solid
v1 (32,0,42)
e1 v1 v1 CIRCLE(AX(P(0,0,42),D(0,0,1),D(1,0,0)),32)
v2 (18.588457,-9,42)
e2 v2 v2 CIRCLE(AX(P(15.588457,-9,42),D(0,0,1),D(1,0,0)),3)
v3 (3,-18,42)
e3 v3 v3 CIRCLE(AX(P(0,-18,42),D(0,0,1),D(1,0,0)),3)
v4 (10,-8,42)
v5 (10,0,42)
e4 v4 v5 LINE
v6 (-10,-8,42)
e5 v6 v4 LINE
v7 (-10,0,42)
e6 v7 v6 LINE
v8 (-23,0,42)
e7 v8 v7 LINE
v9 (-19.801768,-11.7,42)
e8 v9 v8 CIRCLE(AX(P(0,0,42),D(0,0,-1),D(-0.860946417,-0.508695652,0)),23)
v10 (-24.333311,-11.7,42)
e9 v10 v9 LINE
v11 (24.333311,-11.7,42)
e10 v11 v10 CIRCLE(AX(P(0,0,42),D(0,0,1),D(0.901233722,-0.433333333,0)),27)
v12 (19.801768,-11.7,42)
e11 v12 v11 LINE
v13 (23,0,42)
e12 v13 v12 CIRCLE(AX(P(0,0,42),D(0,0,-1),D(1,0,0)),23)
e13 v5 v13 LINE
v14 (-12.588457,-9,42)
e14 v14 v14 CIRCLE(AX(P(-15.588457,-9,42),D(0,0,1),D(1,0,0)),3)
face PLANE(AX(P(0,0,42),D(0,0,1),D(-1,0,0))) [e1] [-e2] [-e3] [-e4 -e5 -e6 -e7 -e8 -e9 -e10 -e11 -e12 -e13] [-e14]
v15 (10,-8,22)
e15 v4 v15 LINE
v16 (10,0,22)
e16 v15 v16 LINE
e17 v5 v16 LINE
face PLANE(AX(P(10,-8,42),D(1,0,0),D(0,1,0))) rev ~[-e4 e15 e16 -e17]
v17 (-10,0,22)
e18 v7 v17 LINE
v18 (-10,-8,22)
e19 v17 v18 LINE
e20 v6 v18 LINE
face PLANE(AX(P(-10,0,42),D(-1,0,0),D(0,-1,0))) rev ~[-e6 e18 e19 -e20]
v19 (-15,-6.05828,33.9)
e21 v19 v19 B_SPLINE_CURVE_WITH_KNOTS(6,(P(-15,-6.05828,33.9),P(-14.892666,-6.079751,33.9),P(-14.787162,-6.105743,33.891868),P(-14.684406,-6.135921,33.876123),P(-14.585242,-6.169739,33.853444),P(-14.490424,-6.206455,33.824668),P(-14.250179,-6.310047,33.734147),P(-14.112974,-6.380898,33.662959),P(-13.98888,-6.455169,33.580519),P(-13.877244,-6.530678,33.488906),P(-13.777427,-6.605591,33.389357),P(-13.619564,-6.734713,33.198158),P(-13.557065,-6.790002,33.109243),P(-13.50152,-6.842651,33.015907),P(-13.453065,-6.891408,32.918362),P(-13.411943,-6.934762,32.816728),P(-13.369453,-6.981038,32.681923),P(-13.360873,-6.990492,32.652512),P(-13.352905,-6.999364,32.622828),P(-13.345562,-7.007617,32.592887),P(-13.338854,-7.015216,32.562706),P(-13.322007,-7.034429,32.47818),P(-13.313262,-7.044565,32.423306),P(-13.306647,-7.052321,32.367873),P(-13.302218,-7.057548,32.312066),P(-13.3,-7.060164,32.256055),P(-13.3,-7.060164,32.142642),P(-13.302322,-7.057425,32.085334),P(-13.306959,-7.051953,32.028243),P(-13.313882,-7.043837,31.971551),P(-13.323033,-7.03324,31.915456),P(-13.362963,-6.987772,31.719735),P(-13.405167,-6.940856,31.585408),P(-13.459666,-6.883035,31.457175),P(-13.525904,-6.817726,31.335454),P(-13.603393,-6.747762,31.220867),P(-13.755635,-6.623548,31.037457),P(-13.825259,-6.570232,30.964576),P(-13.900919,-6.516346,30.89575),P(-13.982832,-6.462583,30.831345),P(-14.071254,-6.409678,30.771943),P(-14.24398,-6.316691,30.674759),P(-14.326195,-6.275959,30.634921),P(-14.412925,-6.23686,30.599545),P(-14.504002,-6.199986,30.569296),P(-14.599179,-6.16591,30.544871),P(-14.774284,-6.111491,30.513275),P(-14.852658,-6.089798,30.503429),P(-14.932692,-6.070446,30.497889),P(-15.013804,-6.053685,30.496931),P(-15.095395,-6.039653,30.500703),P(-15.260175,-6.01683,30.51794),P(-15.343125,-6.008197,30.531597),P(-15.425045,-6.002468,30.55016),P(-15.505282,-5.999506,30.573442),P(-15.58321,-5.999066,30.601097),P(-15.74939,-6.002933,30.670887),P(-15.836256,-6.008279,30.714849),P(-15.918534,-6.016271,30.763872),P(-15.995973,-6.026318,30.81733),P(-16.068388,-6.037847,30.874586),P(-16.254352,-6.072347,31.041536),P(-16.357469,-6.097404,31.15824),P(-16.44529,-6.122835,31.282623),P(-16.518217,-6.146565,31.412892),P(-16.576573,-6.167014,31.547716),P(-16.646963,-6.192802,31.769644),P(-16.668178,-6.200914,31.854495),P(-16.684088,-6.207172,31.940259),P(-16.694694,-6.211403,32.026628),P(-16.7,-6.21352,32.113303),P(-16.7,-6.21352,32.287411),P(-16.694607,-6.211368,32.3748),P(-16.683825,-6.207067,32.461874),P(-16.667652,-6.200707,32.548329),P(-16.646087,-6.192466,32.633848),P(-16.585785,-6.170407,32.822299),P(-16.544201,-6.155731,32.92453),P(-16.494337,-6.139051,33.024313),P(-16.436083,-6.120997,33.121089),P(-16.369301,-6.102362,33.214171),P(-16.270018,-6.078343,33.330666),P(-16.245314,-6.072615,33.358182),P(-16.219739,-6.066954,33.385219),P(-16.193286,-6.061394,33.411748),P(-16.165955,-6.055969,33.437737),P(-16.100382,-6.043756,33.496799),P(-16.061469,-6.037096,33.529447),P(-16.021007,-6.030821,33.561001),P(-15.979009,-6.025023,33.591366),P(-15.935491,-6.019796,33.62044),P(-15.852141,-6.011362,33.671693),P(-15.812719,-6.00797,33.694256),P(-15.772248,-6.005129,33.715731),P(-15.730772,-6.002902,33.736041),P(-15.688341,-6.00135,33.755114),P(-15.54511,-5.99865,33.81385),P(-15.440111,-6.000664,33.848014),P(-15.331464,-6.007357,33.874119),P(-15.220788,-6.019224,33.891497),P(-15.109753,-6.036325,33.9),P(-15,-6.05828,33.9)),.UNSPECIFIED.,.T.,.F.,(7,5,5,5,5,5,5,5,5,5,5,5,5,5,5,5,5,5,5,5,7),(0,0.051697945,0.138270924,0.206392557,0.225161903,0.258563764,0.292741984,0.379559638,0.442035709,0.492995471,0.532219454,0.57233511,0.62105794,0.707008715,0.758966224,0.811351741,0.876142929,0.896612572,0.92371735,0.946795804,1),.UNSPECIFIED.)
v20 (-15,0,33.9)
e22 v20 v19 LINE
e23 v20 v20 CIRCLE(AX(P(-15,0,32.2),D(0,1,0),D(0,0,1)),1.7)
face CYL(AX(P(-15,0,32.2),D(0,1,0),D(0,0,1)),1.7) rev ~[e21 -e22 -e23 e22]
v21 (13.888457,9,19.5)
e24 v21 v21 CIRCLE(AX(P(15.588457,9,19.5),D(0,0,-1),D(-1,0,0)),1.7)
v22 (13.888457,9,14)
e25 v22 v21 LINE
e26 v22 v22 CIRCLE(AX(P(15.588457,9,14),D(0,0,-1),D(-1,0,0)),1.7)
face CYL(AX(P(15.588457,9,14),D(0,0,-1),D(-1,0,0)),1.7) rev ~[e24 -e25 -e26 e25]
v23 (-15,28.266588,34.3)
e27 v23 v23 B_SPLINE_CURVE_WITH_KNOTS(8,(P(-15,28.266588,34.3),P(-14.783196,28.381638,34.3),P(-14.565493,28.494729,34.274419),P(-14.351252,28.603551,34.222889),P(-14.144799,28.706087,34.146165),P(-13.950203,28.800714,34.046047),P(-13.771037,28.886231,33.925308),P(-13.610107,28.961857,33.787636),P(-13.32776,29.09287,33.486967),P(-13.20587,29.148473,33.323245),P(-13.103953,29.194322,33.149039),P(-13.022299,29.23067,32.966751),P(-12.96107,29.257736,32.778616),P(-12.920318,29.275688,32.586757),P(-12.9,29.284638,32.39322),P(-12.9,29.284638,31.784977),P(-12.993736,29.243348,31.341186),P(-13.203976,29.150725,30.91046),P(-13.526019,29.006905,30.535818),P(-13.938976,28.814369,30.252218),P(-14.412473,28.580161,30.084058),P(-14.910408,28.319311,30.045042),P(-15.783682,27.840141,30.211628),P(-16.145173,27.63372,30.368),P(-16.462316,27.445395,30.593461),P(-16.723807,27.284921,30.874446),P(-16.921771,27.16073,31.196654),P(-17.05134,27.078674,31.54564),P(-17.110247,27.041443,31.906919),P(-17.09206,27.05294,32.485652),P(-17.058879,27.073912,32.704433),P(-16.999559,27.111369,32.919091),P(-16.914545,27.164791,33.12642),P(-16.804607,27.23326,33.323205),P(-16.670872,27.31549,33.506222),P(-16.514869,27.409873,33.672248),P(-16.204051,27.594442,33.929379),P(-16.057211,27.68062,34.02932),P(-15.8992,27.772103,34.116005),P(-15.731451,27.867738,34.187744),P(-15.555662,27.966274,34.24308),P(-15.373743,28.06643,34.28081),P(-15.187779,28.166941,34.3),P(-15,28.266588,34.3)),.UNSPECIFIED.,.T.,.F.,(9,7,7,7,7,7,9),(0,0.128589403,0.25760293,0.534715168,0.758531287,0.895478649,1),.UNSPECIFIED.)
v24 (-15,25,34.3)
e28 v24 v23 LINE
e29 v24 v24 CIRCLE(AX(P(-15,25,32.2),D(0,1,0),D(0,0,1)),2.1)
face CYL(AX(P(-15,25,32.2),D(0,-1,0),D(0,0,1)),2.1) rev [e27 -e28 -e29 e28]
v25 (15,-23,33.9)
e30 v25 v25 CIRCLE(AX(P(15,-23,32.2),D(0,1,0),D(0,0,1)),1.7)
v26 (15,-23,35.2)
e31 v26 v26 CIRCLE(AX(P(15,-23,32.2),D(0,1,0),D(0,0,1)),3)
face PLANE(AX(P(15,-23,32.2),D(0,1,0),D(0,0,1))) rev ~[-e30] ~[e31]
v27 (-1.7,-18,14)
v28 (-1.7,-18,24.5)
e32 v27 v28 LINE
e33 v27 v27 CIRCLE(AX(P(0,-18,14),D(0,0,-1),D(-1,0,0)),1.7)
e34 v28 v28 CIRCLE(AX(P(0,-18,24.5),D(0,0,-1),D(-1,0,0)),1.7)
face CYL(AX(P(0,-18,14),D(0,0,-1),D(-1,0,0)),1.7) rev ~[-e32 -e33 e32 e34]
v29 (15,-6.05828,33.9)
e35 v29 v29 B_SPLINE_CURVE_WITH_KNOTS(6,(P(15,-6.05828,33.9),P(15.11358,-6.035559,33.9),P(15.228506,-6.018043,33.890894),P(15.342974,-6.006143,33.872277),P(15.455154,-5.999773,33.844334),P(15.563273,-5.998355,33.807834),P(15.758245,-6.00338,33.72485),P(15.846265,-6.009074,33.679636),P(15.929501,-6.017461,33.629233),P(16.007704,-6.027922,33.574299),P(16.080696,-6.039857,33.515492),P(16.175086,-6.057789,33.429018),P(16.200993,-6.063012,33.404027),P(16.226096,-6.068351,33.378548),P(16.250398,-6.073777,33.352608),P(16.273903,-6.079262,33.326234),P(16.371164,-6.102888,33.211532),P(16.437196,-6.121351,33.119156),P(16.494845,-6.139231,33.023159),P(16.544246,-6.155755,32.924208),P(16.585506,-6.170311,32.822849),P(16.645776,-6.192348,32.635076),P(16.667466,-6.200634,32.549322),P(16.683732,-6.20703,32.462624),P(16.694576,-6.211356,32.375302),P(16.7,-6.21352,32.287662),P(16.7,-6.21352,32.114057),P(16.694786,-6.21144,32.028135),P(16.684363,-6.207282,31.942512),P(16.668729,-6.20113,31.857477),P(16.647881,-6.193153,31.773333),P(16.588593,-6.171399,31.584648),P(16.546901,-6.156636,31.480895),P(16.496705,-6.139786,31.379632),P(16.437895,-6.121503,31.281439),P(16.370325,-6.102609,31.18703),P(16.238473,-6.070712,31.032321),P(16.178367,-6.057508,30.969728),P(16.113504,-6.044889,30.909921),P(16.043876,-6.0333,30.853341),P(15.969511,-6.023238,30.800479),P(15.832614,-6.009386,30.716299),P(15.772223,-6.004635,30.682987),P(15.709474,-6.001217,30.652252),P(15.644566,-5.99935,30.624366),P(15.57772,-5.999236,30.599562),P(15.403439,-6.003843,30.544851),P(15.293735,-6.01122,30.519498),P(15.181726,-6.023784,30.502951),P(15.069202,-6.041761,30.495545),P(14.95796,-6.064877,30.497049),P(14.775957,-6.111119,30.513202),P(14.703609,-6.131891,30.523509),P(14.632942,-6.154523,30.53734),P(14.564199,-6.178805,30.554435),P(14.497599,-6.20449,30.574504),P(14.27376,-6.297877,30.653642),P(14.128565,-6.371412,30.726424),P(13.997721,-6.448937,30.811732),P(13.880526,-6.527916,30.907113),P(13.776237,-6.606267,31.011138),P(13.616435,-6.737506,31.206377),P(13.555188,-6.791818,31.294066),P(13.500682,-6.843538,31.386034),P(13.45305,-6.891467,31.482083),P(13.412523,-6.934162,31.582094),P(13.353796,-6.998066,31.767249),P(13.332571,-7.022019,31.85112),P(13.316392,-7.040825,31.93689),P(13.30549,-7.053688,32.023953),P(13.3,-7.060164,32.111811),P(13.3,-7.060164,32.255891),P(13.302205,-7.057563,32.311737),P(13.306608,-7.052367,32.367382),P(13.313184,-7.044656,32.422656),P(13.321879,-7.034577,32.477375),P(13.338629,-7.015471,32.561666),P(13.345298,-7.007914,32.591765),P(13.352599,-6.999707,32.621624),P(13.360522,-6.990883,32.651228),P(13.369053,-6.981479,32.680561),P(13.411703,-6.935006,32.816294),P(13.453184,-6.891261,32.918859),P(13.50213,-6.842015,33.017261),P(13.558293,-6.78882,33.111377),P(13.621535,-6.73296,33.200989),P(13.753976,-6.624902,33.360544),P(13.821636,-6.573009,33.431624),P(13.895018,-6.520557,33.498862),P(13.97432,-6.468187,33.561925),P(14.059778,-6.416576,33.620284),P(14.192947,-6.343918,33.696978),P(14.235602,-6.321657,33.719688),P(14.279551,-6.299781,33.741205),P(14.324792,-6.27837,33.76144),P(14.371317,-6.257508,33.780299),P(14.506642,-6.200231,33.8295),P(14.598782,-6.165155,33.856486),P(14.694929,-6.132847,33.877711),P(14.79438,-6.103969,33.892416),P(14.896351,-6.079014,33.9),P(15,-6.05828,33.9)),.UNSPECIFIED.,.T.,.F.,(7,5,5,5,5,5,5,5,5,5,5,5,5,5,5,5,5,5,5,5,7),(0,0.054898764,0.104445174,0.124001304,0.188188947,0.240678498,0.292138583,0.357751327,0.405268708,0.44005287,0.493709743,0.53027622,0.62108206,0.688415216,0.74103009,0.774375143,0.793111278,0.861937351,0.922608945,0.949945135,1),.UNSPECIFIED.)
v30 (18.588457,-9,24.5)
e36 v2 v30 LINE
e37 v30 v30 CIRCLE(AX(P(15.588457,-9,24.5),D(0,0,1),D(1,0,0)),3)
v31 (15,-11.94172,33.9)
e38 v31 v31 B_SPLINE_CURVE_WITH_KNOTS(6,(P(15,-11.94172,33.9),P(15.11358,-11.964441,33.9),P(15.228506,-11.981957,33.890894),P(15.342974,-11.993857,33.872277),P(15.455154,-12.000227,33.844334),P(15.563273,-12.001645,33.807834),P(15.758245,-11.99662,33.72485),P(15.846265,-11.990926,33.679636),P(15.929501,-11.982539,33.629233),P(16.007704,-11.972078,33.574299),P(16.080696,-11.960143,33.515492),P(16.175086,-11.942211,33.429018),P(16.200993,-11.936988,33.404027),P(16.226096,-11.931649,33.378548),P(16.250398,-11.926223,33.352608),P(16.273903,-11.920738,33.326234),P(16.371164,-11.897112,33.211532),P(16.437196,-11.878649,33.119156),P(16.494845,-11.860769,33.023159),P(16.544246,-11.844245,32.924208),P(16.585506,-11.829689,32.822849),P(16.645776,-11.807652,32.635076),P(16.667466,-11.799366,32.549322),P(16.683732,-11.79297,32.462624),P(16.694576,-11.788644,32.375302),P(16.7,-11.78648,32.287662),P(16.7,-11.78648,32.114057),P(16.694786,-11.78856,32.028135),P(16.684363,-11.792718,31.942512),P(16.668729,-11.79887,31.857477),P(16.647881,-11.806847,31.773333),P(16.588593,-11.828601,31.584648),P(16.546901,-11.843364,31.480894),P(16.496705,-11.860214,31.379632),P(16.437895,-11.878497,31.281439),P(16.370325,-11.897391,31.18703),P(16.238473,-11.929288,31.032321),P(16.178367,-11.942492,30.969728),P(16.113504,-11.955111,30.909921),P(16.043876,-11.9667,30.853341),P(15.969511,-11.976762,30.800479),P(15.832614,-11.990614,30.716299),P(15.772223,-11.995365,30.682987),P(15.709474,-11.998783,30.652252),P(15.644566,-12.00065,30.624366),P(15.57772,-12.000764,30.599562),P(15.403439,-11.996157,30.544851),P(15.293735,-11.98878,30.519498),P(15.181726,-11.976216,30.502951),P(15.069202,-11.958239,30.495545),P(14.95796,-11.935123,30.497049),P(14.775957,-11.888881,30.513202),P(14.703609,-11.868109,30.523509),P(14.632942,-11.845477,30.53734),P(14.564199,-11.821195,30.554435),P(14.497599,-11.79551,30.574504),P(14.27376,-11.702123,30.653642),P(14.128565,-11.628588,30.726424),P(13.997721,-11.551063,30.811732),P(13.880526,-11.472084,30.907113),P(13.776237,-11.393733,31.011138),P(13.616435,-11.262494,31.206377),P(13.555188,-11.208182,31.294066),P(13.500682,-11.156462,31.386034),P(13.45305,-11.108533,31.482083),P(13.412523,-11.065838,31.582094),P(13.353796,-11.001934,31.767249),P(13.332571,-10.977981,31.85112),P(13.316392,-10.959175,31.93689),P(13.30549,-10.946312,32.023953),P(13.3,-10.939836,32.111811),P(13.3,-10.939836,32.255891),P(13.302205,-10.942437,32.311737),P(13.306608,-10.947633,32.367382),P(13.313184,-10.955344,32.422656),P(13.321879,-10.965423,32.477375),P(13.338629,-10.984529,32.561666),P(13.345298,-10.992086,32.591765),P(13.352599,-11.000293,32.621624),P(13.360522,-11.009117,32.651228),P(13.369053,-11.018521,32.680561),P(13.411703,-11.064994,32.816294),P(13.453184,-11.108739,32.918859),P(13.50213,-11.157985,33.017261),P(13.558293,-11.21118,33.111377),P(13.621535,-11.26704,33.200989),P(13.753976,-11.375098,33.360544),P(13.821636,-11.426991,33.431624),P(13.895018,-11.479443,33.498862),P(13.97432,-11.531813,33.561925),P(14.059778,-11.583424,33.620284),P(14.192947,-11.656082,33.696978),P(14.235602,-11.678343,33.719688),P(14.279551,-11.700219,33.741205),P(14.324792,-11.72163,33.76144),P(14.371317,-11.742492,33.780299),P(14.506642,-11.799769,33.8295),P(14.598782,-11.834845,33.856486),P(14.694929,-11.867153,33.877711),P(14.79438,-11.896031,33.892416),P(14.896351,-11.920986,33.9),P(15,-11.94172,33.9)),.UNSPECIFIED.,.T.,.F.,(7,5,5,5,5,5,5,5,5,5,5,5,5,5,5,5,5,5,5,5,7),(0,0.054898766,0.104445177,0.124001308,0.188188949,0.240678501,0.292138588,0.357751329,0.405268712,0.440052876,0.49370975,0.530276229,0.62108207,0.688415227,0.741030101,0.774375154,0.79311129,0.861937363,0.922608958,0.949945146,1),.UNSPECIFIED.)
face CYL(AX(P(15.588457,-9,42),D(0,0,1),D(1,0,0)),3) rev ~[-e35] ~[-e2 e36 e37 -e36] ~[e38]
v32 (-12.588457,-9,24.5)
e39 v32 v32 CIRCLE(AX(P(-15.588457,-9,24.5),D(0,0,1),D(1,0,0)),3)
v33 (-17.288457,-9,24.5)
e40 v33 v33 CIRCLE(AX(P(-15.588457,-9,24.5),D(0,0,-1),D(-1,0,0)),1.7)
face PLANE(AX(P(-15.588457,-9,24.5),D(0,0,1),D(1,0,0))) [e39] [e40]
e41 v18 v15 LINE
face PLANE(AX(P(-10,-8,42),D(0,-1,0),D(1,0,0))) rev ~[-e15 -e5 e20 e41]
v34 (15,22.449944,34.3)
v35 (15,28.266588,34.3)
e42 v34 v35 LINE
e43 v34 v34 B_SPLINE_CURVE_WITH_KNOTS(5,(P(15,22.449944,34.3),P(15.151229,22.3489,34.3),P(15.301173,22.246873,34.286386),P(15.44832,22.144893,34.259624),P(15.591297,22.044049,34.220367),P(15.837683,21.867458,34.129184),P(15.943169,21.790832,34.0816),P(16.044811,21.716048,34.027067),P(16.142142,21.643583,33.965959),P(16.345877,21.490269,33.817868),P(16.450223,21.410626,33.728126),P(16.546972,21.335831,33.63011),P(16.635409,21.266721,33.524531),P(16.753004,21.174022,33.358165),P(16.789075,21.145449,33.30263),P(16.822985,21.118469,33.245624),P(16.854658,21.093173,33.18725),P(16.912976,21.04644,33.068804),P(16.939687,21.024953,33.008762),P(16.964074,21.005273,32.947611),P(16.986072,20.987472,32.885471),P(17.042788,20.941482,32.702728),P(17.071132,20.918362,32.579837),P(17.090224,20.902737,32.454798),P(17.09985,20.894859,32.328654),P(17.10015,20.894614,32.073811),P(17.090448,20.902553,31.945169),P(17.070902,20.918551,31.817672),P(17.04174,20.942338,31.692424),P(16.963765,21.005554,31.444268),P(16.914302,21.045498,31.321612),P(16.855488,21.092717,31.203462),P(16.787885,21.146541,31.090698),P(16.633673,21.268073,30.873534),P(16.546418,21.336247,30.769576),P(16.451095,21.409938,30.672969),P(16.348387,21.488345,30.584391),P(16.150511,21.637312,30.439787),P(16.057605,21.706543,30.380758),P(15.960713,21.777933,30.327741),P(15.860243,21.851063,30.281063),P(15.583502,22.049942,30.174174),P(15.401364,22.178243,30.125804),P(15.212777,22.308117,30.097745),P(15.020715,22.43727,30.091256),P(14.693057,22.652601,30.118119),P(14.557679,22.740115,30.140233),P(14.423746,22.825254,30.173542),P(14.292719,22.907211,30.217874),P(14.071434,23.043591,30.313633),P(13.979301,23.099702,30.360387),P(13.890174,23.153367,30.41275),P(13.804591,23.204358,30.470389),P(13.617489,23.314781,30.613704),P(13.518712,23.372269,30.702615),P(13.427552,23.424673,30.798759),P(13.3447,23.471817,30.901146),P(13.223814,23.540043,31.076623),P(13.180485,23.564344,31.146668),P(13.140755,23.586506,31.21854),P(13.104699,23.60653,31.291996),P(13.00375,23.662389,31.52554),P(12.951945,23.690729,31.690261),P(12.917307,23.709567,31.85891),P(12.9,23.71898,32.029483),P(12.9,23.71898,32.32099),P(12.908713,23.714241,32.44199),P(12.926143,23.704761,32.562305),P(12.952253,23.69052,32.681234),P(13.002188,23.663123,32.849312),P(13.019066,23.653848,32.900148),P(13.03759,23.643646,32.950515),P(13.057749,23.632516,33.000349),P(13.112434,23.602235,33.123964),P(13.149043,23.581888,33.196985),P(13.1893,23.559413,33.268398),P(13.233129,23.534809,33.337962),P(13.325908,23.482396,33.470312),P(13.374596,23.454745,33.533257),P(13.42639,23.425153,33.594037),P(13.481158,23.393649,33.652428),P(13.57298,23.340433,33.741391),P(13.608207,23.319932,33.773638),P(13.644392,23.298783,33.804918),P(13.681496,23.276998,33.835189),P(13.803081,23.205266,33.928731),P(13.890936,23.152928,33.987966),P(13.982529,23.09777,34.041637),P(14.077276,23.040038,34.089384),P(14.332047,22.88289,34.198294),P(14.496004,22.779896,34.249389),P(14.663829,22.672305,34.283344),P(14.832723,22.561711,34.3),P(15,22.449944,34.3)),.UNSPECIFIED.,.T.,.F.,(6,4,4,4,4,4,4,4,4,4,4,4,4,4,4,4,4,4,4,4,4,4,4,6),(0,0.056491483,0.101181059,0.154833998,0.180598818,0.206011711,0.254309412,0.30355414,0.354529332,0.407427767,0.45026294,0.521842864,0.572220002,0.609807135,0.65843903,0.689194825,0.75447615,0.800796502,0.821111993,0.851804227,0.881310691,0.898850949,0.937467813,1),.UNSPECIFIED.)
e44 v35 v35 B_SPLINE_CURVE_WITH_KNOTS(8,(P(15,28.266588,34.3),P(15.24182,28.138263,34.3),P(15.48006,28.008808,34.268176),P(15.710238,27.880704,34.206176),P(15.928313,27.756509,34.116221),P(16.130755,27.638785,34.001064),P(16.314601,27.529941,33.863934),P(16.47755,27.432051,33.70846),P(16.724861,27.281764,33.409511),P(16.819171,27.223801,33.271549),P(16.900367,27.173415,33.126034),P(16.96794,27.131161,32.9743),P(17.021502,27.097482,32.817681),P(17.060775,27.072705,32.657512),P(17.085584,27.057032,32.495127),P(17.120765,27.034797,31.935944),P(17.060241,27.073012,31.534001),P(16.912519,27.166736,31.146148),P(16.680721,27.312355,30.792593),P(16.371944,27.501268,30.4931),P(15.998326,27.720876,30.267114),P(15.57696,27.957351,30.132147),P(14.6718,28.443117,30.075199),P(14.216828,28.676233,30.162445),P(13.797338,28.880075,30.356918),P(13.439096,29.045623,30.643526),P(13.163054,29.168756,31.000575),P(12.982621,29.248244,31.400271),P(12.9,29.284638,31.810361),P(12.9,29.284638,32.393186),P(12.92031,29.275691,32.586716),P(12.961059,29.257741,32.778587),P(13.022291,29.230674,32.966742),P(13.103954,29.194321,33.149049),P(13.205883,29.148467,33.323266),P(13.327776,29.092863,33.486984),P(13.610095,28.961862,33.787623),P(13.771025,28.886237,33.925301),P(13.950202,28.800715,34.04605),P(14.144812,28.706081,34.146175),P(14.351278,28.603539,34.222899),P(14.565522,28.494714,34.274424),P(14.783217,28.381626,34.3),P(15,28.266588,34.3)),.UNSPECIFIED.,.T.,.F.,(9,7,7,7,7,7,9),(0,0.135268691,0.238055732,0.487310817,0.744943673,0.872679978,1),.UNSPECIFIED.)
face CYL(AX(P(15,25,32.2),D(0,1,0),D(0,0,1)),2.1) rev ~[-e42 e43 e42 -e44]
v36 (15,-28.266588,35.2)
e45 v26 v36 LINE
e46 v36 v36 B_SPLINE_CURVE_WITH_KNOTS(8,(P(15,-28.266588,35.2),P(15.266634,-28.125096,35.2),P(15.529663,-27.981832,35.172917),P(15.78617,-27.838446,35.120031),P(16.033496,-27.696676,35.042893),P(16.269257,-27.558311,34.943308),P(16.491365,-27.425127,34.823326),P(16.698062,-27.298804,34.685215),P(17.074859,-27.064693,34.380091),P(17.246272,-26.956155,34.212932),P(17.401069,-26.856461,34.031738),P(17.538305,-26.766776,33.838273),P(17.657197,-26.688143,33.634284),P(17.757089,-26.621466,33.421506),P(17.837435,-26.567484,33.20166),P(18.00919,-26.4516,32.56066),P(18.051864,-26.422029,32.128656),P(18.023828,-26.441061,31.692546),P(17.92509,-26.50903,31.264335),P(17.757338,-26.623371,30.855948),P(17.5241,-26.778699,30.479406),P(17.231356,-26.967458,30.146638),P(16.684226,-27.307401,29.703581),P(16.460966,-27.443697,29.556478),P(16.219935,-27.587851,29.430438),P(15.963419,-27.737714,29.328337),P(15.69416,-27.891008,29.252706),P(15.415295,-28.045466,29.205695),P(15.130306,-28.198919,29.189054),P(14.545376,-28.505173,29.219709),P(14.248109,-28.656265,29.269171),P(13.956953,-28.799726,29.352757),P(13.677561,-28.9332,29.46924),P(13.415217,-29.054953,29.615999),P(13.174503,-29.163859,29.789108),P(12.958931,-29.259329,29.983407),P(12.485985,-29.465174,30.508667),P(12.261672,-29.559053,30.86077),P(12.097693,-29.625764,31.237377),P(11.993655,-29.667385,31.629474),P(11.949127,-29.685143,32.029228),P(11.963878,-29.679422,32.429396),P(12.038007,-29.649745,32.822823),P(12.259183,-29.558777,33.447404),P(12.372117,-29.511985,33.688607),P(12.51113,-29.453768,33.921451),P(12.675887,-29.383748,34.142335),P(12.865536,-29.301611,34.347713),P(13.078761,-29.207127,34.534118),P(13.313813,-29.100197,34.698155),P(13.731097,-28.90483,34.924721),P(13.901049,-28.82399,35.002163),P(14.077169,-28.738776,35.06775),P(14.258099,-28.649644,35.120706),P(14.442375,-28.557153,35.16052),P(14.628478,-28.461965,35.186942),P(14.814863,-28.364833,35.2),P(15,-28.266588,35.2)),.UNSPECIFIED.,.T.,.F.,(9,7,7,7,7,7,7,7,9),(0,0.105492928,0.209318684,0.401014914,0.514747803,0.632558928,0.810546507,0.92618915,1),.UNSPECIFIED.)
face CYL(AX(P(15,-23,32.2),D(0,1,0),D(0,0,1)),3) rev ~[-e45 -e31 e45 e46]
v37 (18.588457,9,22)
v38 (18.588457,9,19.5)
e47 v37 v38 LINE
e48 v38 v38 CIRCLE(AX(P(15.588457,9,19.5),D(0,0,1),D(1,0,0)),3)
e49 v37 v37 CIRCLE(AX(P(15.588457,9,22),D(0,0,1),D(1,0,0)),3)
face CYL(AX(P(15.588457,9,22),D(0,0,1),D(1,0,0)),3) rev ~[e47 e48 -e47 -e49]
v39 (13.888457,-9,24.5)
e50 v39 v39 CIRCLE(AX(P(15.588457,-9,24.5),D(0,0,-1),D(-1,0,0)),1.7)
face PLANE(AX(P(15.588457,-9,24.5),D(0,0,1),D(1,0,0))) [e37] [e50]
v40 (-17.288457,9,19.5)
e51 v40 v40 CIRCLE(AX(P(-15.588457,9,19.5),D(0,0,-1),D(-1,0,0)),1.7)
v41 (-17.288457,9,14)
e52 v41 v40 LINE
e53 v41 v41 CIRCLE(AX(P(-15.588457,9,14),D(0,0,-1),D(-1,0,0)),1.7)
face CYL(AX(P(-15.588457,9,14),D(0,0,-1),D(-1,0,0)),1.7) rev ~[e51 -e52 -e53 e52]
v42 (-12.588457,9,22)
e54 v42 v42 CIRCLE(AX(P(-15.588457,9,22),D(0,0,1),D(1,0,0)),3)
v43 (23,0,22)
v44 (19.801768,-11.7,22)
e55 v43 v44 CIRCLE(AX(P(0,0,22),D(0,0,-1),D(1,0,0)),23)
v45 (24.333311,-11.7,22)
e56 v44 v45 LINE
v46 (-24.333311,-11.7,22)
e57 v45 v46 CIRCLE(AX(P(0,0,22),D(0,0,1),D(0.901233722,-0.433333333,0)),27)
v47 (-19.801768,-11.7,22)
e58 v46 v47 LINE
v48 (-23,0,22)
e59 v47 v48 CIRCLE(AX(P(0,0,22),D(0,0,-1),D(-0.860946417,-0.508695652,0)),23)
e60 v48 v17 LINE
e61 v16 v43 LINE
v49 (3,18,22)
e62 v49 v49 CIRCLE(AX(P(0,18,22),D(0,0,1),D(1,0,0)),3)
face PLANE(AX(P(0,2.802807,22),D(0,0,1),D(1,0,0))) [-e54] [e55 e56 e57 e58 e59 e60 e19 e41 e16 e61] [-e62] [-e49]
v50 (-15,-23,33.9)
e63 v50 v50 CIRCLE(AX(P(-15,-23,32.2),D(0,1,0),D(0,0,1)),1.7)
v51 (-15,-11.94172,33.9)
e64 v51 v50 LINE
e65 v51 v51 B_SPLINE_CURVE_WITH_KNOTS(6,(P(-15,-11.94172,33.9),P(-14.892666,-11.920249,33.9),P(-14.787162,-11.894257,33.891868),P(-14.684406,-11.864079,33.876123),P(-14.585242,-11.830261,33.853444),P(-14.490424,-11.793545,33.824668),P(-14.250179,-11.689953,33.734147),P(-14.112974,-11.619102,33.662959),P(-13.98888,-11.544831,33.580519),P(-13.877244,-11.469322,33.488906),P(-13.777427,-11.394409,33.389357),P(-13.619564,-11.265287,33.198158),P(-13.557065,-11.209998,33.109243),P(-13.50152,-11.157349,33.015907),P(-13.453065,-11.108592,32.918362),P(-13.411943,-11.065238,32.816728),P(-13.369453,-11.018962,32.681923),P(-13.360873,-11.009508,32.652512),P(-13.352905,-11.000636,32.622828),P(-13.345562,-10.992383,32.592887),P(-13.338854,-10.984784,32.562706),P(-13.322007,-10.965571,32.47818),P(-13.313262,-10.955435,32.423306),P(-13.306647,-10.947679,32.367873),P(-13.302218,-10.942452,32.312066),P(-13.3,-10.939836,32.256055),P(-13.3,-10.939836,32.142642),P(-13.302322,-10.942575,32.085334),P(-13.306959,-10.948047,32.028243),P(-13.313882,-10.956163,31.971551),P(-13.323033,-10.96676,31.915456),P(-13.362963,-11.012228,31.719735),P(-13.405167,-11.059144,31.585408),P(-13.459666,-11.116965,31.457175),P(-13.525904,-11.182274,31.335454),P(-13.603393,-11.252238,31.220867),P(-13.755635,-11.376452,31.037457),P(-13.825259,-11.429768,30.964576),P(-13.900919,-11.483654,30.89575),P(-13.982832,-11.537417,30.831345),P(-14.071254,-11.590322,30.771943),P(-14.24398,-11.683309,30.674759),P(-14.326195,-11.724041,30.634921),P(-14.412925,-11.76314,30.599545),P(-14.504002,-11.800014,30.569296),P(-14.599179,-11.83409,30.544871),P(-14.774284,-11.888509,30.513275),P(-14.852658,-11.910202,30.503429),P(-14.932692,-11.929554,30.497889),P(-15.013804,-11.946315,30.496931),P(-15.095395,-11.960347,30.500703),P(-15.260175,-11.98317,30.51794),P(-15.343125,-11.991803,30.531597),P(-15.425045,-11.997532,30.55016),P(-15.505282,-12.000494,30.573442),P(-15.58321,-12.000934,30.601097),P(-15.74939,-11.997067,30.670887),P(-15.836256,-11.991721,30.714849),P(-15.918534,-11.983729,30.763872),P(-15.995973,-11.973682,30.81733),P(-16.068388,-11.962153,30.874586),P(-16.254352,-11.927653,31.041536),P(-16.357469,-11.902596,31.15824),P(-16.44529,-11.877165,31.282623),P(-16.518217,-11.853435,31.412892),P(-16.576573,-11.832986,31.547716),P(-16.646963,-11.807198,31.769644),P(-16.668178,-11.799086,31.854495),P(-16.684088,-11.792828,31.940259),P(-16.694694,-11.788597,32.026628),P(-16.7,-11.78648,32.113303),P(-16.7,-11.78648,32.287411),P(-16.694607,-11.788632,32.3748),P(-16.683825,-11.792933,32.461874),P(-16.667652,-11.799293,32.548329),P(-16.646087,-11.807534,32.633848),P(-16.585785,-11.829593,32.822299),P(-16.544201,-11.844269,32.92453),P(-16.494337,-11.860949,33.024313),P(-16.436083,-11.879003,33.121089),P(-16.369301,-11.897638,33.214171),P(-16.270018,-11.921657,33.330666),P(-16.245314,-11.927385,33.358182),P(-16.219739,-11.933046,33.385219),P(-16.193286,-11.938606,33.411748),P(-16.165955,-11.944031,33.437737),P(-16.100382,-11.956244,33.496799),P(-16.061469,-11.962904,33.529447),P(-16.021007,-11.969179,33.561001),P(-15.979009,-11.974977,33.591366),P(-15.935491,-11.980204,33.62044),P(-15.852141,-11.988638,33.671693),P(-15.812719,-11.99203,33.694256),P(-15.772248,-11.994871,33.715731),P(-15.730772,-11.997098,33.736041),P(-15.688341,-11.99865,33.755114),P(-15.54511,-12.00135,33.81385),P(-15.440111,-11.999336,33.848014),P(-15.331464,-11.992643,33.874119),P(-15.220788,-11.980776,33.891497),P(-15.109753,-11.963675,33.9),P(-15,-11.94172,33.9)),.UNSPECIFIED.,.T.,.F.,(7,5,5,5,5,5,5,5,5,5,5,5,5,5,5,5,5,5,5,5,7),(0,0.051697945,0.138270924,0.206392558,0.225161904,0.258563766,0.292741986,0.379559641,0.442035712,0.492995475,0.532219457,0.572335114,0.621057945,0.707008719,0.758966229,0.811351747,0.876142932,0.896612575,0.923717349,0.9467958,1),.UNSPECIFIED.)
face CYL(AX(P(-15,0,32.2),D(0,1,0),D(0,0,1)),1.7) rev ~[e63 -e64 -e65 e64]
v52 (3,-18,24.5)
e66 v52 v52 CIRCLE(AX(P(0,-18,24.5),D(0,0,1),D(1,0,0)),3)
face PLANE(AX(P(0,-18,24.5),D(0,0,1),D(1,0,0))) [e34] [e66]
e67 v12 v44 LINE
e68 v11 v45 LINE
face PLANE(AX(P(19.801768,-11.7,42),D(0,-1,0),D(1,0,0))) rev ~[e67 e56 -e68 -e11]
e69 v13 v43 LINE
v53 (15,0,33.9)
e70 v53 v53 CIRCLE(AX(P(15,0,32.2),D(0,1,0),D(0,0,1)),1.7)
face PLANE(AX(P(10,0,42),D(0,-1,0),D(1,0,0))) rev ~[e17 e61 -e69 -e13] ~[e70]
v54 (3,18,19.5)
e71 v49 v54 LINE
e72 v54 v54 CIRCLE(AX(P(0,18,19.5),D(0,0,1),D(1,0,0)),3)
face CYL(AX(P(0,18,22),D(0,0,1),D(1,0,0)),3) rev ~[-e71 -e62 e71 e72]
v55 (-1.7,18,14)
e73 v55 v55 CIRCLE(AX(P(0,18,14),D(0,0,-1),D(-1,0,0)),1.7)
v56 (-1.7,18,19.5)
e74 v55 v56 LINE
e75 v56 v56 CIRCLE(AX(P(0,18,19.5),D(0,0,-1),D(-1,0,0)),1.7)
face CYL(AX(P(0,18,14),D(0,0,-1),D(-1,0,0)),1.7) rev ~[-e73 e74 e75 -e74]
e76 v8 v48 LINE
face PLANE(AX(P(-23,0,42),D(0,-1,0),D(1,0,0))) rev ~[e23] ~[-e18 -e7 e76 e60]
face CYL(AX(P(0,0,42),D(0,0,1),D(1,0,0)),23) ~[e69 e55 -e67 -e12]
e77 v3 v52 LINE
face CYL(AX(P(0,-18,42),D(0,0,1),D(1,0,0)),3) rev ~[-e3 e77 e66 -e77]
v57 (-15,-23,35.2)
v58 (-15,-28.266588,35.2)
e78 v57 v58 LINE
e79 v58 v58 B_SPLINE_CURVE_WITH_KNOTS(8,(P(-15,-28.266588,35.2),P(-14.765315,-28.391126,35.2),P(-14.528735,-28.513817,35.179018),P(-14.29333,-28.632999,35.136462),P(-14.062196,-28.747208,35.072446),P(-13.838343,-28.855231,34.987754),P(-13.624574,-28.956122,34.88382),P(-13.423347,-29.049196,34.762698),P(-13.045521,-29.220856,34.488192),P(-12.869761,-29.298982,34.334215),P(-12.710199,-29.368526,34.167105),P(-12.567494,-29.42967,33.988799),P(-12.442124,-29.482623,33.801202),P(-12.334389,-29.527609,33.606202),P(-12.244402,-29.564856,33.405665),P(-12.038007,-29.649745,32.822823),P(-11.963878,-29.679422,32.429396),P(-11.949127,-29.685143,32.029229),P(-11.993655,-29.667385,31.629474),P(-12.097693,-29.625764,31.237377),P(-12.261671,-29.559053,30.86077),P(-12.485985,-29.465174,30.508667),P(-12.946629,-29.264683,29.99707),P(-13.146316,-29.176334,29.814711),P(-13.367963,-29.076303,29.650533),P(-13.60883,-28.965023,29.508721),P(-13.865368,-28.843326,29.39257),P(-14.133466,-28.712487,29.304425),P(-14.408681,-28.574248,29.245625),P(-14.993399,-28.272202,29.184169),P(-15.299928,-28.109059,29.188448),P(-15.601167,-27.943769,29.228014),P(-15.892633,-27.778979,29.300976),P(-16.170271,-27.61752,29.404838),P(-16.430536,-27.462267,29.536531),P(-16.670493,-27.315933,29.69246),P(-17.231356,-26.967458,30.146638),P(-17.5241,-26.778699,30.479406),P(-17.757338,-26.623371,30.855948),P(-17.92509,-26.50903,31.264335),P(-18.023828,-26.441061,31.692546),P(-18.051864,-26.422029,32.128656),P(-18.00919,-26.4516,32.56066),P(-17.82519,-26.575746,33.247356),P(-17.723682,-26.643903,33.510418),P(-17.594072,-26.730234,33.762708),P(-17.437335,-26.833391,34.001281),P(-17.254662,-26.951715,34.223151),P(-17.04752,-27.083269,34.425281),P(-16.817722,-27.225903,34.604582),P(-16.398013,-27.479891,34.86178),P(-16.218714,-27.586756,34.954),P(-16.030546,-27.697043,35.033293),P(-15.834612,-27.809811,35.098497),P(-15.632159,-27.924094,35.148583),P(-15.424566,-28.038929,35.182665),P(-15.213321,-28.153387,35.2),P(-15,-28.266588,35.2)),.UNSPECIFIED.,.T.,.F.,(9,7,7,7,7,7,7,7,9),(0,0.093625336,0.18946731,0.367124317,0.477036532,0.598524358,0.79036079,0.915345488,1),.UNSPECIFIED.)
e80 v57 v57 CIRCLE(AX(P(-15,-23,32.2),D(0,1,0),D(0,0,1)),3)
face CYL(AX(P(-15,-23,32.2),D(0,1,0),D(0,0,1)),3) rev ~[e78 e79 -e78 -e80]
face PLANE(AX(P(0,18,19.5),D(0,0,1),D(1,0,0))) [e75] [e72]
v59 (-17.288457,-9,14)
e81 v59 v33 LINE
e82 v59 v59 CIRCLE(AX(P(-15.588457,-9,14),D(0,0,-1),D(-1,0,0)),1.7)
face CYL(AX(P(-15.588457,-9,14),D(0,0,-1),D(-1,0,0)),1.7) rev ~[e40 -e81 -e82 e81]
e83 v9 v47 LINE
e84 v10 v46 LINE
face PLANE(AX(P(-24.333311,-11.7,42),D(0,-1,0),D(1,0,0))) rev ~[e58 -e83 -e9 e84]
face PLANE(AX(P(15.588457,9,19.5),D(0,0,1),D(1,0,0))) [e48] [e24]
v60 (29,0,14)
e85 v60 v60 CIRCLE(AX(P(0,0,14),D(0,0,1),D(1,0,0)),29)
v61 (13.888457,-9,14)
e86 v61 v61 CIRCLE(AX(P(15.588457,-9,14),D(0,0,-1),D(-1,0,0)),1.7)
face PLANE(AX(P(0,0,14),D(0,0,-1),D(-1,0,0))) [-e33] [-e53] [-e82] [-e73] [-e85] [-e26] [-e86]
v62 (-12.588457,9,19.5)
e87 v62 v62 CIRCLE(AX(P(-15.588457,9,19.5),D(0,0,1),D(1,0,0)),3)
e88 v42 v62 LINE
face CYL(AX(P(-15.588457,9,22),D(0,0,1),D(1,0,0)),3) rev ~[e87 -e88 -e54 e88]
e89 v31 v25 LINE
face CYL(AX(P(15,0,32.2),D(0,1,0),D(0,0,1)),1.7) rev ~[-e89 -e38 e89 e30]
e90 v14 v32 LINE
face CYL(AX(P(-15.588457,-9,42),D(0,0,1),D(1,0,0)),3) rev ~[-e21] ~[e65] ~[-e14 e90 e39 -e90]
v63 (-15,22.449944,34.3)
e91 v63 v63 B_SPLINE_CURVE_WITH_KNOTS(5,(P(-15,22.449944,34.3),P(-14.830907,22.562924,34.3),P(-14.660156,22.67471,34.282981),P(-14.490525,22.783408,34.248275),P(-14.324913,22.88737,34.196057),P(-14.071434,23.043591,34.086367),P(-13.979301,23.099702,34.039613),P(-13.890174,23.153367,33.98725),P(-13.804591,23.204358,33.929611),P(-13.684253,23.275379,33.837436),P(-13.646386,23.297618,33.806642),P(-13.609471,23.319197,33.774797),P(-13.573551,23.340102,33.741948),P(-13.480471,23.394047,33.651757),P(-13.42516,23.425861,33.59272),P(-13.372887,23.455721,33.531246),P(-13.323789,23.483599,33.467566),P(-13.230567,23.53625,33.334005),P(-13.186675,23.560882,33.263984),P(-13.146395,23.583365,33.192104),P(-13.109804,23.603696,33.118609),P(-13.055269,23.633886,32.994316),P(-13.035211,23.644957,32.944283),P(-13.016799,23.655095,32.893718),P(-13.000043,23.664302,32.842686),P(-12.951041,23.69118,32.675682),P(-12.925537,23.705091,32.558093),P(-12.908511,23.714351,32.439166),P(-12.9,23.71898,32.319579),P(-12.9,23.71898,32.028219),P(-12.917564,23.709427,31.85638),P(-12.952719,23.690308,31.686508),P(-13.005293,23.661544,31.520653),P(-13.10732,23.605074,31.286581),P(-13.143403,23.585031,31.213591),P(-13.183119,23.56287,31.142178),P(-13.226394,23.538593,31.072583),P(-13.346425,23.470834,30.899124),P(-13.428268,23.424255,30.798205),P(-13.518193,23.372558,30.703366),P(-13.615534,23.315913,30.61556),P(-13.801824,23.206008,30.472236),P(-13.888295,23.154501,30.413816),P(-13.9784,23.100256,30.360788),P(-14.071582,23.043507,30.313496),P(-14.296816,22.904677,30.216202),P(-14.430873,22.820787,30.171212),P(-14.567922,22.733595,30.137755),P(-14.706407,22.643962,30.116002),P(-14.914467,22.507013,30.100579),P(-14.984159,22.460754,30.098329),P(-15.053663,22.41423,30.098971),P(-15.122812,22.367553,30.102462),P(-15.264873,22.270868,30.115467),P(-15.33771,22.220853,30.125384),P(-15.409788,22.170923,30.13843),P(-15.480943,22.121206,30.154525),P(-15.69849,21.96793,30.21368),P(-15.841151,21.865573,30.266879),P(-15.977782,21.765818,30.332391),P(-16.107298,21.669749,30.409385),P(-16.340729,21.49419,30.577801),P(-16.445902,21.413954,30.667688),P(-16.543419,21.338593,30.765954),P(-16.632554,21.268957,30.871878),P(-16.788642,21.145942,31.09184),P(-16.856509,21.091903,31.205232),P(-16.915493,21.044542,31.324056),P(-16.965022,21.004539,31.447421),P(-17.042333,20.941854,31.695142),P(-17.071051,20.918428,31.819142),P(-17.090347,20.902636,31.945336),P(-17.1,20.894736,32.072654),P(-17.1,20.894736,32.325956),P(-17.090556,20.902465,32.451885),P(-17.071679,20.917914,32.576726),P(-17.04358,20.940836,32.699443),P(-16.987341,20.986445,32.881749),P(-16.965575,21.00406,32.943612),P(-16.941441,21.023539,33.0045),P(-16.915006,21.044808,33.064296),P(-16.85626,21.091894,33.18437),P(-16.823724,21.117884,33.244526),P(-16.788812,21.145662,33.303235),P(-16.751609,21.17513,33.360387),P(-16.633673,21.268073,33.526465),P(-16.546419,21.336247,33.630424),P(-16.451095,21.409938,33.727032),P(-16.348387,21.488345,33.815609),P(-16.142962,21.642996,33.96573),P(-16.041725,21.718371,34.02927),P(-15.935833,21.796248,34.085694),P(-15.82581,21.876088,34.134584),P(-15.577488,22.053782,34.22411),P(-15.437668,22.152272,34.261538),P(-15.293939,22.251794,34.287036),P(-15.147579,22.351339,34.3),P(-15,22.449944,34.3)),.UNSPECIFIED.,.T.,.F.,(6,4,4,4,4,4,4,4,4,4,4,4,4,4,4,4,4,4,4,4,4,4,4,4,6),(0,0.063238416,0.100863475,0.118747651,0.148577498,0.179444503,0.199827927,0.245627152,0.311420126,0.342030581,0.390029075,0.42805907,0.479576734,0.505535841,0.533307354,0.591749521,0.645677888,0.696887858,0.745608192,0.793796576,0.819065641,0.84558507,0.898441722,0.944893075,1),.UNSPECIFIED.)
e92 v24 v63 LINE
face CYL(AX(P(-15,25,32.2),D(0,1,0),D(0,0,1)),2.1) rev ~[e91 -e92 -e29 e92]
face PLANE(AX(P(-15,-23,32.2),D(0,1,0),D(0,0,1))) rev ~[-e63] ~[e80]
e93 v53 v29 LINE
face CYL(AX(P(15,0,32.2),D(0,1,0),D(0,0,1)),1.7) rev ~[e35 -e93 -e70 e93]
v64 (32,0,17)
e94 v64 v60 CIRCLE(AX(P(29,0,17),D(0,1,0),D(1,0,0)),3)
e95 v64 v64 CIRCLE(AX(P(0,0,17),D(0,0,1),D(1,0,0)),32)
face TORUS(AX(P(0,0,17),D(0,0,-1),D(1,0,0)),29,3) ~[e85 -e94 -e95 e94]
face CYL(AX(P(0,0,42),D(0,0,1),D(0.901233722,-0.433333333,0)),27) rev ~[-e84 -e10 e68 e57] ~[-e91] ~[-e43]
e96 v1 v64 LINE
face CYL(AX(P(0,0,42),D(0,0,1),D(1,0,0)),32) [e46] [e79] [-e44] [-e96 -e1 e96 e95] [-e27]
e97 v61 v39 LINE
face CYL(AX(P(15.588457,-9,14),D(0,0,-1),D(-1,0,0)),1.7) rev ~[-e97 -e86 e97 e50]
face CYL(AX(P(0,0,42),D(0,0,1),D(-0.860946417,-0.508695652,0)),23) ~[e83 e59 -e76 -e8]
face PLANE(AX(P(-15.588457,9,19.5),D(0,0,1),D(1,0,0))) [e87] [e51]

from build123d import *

# Parameters (mm, degrees)
SKETCH_1_R               = 50
EXTRUDE_1_DEPTH          = 42
SKETCH_2_R               = 47.45
CUT_EXTRUDE_1_DEPTH      = 9
SKETCH_3_R               = 43
CUT_EXTRUDE_2_DEPTH      = 5
SKETCH_4_R               = 1.7
CUT_EXTRUDE_3_DEPTH      = 49
SKETCH_5_R               = 50
SKETCH_5_R_2             = 32
SKETCH_5_R_3             = 1.7
CUT_EXTRUDE_4_DEPTH      = 20
FILLET_1_R               = 2
FILLET_2_R               = 2
SKETCH_6_R               = 1.7
CUT_EXTRUDE_5_DEPTH      = 83.24354078
CUT_EXTRUDE_5_DEPTH_BACK = 83.24354078
SKETCH_7_R               = 3
CUT_EXTRUDE_6_DEPTH      = 17.5
SKETCH_8_R               = 3
CUT_EXTRUDE_7_DEPTH      = 8
SKETCH_9_R               = 2.1
CUT_EXTRUDE_8_DEPTH      = 5
SKETCH_10_R              = 3
CUT_EXTRUDE_9_DEPTH      = 2.5
SKETCH_11_R              = 50
SKETCH_11_R_2            = 32
CUT_EXTRUDE_10_DEPTH     = 83.24354078
FILLET_3_R               = 3


with BuildPart() as part:
    # 草图1 → 凸台-拉伸1 (new body)
    with BuildSketch(Plane.XY):
        with Locations(Location((0, 0, 0), (0, 0, 180))):
            Circle(SKETCH_1_R)
    extrude(amount=EXTRUDE_1_DEPTH)

    # 草图2 → 切除-拉伸1 (cut)
    with BuildSketch(Plane(origin=(0, 0, 0), x_dir=(-1, 0, 0), z_dir=(0, 0, -1))):
        Circle(SKETCH_2_R)
    extrude(amount=-CUT_EXTRUDE_1_DEPTH, mode=Mode.SUBTRACT)

    # 草图3 → 切除-拉伸2 (cut)
    with BuildSketch(Plane(origin=(0, 0, 9), x_dir=(-1, 0, 0), z_dir=(0, 0, -1))):
        Circle(SKETCH_3_R)
    extrude(amount=-CUT_EXTRUDE_2_DEPTH, mode=Mode.SUBTRACT)

    # 草图4 → 切除-拉伸3 (cut)
    with BuildSketch(Plane(origin=(0, 0, 14), x_dir=(-1, 0, 0), z_dir=(0, 0, -1))):
        with Locations((0, -18)):
            Circle(SKETCH_4_R)
        with Locations((-15.588457268, -9)):
            Circle(SKETCH_4_R)
        with Locations((-15.588457268, 9)):
            Circle(SKETCH_4_R)
        with Locations((0, 18)):
            Circle(SKETCH_4_R)
        with Locations((15.588457268, 9)):
            Circle(SKETCH_4_R)
        with Locations((15.588457268, -9)):
            Circle(SKETCH_4_R)
    extrude(amount=-CUT_EXTRUDE_3_DEPTH, mode=Mode.SUBTRACT)

    # 草图5 → 切除-拉伸4 (cut)
    with BuildSketch(Plane.XY.offset(42)):
        with Locations(Location((0, 0, 0), (0, 0, 180))):
            Circle(SKETCH_5_R)
        Circle(SKETCH_5_R_2, mode=Mode.SUBTRACT)
        with BuildLine():
            Line((10, 0), (23, 0))
            ThreePointArc((23, 0), (22.18603902, -6.06462469), (19.801767598, -11.7))
            Line((19.801767598, -11.7), (24.333310502, -11.7))
            ThreePointArc((24.333310502, -11.7), (0, 27), (-24.333310502, -11.7))
            Line((-24.333310502, -11.7), (-19.801767598, -11.7))
            ThreePointArc((-19.801767598, -11.7), (-22.18603902, -6.06462469), (-23, 0))
            Line((-23, 0), (-10, 0))
            Line((-10, 0), (-10, -8))
            Line((-10, -8), (10, -8))
            Line((10, -8), (10, 0))
        make_face()
        with Locations(Location((-15.588457268, 9, 0), (0, 0, 180))):
            Circle(SKETCH_5_R_3, mode=Mode.SUBTRACT)
        with Locations(Location((0, 18, 0), (0, 0, 180))):
            Circle(SKETCH_5_R_3, mode=Mode.SUBTRACT)
        with Locations(Location((15.588457268, 9, 0), (0, 0, 180))):
            Circle(SKETCH_5_R_3, mode=Mode.SUBTRACT)
    extrude(amount=-CUT_EXTRUDE_4_DEPTH, mode=Mode.SUBTRACT)

    # 圆角1
    fillet_1_edges = [part.edges().sort_by_distance(p)[0] for p in [
        (50, 0, 22),
    ]]
    fillet(fillet_1_edges, radius=FILLET_1_R)

    # 圆角2
    fillet_2_edges = [part.edges().sort_by_distance(p)[0] for p in [
        (-32, 0, 22),
    ]]
    fillet(fillet_2_edges, radius=FILLET_2_R)

    # 草图6 → 切除-拉伸5 (cut, two sides)
    with BuildSketch(Plane(origin=(0, 0, 0), x_dir=(1, 0, 0), z_dir=(0, 1, 0))) as cut_extrude_5_sk:
        with Locations(Location((-15, -32.2, 0), (0, 0, 270))):
            Circle(SKETCH_6_R)
        with Locations(Location((15, -32.2, 0), (0, 0, 270))):
            Circle(SKETCH_6_R)
    extrude(amount=CUT_EXTRUDE_5_DEPTH, mode=Mode.SUBTRACT)
    extrude(cut_extrude_5_sk.sketch, amount=-CUT_EXTRUDE_5_DEPTH_BACK, mode=Mode.SUBTRACT)

    # 草图7 → 切除-拉伸6 (cut)
    with BuildSketch(Plane.XY.offset(42)):
        with Locations((-15.588457268, -9)):
            Circle(SKETCH_7_R)
        with Locations((0, -18)):
            Circle(SKETCH_7_R)
        with Locations((15.588457268, -9)):
            Circle(SKETCH_7_R)
    extrude(amount=-CUT_EXTRUDE_6_DEPTH, mode=Mode.SUBTRACT)

    # 草图8 → 切除-拉伸7 (cut)
    with BuildSketch(Plane(origin=(0, -23, 0), x_dir=(1, 0, 0), z_dir=(0, 1, 0))):
        with Locations(Location((-15, -32.2, 0), (0, 0, 270))):
            Circle(SKETCH_8_R)
        with Locations(Location((15, -32.2, 0), (0, 0, 270))):
            Circle(SKETCH_8_R)
    extrude(amount=-CUT_EXTRUDE_7_DEPTH, mode=Mode.SUBTRACT)

    # 草图9 → 切除-拉伸8 (cut, symmetric)
    with BuildSketch(Plane(origin=(0, 25, 0), x_dir=(1, 0, 0), z_dir=(0, 1, 0))):
        with Locations(Location((-15, -32.2, 0), (0, 0, 270))):
            Circle(SKETCH_9_R)
        with Locations(Location((15, -32.2, 0), (0, 0, 270))):
            Circle(SKETCH_9_R)
    extrude(amount=CUT_EXTRUDE_8_DEPTH, both=True, mode=Mode.SUBTRACT)

    # 草图10 → 切除-拉伸9 (cut)
    with BuildSketch(Plane.XY.offset(22)):
        with Locations((-15.588457268, 9)):
            Circle(SKETCH_10_R)
        with Locations((0, 18)):
            Circle(SKETCH_10_R)
        with Locations((15.588457268, 9)):
            Circle(SKETCH_10_R)
    extrude(amount=-CUT_EXTRUDE_9_DEPTH, mode=Mode.SUBTRACT)

    # 草图11 → 切除-拉伸10 (cut, through all)
    with BuildSketch(Plane.XY.offset(42)):
        Circle(SKETCH_11_R)
        Circle(SKETCH_11_R_2, mode=Mode.SUBTRACT)
    extrude(amount=-CUT_EXTRUDE_10_DEPTH, mode=Mode.SUBTRACT)

    # 圆角3
    fillet_3_edges = [part.edges().sort_by_distance(p)[0] for p in [
        (-32, 0, 14),
    ]]
    fillet(fillet_3_edges, radius=FILLET_3_R)


solid = part.part
